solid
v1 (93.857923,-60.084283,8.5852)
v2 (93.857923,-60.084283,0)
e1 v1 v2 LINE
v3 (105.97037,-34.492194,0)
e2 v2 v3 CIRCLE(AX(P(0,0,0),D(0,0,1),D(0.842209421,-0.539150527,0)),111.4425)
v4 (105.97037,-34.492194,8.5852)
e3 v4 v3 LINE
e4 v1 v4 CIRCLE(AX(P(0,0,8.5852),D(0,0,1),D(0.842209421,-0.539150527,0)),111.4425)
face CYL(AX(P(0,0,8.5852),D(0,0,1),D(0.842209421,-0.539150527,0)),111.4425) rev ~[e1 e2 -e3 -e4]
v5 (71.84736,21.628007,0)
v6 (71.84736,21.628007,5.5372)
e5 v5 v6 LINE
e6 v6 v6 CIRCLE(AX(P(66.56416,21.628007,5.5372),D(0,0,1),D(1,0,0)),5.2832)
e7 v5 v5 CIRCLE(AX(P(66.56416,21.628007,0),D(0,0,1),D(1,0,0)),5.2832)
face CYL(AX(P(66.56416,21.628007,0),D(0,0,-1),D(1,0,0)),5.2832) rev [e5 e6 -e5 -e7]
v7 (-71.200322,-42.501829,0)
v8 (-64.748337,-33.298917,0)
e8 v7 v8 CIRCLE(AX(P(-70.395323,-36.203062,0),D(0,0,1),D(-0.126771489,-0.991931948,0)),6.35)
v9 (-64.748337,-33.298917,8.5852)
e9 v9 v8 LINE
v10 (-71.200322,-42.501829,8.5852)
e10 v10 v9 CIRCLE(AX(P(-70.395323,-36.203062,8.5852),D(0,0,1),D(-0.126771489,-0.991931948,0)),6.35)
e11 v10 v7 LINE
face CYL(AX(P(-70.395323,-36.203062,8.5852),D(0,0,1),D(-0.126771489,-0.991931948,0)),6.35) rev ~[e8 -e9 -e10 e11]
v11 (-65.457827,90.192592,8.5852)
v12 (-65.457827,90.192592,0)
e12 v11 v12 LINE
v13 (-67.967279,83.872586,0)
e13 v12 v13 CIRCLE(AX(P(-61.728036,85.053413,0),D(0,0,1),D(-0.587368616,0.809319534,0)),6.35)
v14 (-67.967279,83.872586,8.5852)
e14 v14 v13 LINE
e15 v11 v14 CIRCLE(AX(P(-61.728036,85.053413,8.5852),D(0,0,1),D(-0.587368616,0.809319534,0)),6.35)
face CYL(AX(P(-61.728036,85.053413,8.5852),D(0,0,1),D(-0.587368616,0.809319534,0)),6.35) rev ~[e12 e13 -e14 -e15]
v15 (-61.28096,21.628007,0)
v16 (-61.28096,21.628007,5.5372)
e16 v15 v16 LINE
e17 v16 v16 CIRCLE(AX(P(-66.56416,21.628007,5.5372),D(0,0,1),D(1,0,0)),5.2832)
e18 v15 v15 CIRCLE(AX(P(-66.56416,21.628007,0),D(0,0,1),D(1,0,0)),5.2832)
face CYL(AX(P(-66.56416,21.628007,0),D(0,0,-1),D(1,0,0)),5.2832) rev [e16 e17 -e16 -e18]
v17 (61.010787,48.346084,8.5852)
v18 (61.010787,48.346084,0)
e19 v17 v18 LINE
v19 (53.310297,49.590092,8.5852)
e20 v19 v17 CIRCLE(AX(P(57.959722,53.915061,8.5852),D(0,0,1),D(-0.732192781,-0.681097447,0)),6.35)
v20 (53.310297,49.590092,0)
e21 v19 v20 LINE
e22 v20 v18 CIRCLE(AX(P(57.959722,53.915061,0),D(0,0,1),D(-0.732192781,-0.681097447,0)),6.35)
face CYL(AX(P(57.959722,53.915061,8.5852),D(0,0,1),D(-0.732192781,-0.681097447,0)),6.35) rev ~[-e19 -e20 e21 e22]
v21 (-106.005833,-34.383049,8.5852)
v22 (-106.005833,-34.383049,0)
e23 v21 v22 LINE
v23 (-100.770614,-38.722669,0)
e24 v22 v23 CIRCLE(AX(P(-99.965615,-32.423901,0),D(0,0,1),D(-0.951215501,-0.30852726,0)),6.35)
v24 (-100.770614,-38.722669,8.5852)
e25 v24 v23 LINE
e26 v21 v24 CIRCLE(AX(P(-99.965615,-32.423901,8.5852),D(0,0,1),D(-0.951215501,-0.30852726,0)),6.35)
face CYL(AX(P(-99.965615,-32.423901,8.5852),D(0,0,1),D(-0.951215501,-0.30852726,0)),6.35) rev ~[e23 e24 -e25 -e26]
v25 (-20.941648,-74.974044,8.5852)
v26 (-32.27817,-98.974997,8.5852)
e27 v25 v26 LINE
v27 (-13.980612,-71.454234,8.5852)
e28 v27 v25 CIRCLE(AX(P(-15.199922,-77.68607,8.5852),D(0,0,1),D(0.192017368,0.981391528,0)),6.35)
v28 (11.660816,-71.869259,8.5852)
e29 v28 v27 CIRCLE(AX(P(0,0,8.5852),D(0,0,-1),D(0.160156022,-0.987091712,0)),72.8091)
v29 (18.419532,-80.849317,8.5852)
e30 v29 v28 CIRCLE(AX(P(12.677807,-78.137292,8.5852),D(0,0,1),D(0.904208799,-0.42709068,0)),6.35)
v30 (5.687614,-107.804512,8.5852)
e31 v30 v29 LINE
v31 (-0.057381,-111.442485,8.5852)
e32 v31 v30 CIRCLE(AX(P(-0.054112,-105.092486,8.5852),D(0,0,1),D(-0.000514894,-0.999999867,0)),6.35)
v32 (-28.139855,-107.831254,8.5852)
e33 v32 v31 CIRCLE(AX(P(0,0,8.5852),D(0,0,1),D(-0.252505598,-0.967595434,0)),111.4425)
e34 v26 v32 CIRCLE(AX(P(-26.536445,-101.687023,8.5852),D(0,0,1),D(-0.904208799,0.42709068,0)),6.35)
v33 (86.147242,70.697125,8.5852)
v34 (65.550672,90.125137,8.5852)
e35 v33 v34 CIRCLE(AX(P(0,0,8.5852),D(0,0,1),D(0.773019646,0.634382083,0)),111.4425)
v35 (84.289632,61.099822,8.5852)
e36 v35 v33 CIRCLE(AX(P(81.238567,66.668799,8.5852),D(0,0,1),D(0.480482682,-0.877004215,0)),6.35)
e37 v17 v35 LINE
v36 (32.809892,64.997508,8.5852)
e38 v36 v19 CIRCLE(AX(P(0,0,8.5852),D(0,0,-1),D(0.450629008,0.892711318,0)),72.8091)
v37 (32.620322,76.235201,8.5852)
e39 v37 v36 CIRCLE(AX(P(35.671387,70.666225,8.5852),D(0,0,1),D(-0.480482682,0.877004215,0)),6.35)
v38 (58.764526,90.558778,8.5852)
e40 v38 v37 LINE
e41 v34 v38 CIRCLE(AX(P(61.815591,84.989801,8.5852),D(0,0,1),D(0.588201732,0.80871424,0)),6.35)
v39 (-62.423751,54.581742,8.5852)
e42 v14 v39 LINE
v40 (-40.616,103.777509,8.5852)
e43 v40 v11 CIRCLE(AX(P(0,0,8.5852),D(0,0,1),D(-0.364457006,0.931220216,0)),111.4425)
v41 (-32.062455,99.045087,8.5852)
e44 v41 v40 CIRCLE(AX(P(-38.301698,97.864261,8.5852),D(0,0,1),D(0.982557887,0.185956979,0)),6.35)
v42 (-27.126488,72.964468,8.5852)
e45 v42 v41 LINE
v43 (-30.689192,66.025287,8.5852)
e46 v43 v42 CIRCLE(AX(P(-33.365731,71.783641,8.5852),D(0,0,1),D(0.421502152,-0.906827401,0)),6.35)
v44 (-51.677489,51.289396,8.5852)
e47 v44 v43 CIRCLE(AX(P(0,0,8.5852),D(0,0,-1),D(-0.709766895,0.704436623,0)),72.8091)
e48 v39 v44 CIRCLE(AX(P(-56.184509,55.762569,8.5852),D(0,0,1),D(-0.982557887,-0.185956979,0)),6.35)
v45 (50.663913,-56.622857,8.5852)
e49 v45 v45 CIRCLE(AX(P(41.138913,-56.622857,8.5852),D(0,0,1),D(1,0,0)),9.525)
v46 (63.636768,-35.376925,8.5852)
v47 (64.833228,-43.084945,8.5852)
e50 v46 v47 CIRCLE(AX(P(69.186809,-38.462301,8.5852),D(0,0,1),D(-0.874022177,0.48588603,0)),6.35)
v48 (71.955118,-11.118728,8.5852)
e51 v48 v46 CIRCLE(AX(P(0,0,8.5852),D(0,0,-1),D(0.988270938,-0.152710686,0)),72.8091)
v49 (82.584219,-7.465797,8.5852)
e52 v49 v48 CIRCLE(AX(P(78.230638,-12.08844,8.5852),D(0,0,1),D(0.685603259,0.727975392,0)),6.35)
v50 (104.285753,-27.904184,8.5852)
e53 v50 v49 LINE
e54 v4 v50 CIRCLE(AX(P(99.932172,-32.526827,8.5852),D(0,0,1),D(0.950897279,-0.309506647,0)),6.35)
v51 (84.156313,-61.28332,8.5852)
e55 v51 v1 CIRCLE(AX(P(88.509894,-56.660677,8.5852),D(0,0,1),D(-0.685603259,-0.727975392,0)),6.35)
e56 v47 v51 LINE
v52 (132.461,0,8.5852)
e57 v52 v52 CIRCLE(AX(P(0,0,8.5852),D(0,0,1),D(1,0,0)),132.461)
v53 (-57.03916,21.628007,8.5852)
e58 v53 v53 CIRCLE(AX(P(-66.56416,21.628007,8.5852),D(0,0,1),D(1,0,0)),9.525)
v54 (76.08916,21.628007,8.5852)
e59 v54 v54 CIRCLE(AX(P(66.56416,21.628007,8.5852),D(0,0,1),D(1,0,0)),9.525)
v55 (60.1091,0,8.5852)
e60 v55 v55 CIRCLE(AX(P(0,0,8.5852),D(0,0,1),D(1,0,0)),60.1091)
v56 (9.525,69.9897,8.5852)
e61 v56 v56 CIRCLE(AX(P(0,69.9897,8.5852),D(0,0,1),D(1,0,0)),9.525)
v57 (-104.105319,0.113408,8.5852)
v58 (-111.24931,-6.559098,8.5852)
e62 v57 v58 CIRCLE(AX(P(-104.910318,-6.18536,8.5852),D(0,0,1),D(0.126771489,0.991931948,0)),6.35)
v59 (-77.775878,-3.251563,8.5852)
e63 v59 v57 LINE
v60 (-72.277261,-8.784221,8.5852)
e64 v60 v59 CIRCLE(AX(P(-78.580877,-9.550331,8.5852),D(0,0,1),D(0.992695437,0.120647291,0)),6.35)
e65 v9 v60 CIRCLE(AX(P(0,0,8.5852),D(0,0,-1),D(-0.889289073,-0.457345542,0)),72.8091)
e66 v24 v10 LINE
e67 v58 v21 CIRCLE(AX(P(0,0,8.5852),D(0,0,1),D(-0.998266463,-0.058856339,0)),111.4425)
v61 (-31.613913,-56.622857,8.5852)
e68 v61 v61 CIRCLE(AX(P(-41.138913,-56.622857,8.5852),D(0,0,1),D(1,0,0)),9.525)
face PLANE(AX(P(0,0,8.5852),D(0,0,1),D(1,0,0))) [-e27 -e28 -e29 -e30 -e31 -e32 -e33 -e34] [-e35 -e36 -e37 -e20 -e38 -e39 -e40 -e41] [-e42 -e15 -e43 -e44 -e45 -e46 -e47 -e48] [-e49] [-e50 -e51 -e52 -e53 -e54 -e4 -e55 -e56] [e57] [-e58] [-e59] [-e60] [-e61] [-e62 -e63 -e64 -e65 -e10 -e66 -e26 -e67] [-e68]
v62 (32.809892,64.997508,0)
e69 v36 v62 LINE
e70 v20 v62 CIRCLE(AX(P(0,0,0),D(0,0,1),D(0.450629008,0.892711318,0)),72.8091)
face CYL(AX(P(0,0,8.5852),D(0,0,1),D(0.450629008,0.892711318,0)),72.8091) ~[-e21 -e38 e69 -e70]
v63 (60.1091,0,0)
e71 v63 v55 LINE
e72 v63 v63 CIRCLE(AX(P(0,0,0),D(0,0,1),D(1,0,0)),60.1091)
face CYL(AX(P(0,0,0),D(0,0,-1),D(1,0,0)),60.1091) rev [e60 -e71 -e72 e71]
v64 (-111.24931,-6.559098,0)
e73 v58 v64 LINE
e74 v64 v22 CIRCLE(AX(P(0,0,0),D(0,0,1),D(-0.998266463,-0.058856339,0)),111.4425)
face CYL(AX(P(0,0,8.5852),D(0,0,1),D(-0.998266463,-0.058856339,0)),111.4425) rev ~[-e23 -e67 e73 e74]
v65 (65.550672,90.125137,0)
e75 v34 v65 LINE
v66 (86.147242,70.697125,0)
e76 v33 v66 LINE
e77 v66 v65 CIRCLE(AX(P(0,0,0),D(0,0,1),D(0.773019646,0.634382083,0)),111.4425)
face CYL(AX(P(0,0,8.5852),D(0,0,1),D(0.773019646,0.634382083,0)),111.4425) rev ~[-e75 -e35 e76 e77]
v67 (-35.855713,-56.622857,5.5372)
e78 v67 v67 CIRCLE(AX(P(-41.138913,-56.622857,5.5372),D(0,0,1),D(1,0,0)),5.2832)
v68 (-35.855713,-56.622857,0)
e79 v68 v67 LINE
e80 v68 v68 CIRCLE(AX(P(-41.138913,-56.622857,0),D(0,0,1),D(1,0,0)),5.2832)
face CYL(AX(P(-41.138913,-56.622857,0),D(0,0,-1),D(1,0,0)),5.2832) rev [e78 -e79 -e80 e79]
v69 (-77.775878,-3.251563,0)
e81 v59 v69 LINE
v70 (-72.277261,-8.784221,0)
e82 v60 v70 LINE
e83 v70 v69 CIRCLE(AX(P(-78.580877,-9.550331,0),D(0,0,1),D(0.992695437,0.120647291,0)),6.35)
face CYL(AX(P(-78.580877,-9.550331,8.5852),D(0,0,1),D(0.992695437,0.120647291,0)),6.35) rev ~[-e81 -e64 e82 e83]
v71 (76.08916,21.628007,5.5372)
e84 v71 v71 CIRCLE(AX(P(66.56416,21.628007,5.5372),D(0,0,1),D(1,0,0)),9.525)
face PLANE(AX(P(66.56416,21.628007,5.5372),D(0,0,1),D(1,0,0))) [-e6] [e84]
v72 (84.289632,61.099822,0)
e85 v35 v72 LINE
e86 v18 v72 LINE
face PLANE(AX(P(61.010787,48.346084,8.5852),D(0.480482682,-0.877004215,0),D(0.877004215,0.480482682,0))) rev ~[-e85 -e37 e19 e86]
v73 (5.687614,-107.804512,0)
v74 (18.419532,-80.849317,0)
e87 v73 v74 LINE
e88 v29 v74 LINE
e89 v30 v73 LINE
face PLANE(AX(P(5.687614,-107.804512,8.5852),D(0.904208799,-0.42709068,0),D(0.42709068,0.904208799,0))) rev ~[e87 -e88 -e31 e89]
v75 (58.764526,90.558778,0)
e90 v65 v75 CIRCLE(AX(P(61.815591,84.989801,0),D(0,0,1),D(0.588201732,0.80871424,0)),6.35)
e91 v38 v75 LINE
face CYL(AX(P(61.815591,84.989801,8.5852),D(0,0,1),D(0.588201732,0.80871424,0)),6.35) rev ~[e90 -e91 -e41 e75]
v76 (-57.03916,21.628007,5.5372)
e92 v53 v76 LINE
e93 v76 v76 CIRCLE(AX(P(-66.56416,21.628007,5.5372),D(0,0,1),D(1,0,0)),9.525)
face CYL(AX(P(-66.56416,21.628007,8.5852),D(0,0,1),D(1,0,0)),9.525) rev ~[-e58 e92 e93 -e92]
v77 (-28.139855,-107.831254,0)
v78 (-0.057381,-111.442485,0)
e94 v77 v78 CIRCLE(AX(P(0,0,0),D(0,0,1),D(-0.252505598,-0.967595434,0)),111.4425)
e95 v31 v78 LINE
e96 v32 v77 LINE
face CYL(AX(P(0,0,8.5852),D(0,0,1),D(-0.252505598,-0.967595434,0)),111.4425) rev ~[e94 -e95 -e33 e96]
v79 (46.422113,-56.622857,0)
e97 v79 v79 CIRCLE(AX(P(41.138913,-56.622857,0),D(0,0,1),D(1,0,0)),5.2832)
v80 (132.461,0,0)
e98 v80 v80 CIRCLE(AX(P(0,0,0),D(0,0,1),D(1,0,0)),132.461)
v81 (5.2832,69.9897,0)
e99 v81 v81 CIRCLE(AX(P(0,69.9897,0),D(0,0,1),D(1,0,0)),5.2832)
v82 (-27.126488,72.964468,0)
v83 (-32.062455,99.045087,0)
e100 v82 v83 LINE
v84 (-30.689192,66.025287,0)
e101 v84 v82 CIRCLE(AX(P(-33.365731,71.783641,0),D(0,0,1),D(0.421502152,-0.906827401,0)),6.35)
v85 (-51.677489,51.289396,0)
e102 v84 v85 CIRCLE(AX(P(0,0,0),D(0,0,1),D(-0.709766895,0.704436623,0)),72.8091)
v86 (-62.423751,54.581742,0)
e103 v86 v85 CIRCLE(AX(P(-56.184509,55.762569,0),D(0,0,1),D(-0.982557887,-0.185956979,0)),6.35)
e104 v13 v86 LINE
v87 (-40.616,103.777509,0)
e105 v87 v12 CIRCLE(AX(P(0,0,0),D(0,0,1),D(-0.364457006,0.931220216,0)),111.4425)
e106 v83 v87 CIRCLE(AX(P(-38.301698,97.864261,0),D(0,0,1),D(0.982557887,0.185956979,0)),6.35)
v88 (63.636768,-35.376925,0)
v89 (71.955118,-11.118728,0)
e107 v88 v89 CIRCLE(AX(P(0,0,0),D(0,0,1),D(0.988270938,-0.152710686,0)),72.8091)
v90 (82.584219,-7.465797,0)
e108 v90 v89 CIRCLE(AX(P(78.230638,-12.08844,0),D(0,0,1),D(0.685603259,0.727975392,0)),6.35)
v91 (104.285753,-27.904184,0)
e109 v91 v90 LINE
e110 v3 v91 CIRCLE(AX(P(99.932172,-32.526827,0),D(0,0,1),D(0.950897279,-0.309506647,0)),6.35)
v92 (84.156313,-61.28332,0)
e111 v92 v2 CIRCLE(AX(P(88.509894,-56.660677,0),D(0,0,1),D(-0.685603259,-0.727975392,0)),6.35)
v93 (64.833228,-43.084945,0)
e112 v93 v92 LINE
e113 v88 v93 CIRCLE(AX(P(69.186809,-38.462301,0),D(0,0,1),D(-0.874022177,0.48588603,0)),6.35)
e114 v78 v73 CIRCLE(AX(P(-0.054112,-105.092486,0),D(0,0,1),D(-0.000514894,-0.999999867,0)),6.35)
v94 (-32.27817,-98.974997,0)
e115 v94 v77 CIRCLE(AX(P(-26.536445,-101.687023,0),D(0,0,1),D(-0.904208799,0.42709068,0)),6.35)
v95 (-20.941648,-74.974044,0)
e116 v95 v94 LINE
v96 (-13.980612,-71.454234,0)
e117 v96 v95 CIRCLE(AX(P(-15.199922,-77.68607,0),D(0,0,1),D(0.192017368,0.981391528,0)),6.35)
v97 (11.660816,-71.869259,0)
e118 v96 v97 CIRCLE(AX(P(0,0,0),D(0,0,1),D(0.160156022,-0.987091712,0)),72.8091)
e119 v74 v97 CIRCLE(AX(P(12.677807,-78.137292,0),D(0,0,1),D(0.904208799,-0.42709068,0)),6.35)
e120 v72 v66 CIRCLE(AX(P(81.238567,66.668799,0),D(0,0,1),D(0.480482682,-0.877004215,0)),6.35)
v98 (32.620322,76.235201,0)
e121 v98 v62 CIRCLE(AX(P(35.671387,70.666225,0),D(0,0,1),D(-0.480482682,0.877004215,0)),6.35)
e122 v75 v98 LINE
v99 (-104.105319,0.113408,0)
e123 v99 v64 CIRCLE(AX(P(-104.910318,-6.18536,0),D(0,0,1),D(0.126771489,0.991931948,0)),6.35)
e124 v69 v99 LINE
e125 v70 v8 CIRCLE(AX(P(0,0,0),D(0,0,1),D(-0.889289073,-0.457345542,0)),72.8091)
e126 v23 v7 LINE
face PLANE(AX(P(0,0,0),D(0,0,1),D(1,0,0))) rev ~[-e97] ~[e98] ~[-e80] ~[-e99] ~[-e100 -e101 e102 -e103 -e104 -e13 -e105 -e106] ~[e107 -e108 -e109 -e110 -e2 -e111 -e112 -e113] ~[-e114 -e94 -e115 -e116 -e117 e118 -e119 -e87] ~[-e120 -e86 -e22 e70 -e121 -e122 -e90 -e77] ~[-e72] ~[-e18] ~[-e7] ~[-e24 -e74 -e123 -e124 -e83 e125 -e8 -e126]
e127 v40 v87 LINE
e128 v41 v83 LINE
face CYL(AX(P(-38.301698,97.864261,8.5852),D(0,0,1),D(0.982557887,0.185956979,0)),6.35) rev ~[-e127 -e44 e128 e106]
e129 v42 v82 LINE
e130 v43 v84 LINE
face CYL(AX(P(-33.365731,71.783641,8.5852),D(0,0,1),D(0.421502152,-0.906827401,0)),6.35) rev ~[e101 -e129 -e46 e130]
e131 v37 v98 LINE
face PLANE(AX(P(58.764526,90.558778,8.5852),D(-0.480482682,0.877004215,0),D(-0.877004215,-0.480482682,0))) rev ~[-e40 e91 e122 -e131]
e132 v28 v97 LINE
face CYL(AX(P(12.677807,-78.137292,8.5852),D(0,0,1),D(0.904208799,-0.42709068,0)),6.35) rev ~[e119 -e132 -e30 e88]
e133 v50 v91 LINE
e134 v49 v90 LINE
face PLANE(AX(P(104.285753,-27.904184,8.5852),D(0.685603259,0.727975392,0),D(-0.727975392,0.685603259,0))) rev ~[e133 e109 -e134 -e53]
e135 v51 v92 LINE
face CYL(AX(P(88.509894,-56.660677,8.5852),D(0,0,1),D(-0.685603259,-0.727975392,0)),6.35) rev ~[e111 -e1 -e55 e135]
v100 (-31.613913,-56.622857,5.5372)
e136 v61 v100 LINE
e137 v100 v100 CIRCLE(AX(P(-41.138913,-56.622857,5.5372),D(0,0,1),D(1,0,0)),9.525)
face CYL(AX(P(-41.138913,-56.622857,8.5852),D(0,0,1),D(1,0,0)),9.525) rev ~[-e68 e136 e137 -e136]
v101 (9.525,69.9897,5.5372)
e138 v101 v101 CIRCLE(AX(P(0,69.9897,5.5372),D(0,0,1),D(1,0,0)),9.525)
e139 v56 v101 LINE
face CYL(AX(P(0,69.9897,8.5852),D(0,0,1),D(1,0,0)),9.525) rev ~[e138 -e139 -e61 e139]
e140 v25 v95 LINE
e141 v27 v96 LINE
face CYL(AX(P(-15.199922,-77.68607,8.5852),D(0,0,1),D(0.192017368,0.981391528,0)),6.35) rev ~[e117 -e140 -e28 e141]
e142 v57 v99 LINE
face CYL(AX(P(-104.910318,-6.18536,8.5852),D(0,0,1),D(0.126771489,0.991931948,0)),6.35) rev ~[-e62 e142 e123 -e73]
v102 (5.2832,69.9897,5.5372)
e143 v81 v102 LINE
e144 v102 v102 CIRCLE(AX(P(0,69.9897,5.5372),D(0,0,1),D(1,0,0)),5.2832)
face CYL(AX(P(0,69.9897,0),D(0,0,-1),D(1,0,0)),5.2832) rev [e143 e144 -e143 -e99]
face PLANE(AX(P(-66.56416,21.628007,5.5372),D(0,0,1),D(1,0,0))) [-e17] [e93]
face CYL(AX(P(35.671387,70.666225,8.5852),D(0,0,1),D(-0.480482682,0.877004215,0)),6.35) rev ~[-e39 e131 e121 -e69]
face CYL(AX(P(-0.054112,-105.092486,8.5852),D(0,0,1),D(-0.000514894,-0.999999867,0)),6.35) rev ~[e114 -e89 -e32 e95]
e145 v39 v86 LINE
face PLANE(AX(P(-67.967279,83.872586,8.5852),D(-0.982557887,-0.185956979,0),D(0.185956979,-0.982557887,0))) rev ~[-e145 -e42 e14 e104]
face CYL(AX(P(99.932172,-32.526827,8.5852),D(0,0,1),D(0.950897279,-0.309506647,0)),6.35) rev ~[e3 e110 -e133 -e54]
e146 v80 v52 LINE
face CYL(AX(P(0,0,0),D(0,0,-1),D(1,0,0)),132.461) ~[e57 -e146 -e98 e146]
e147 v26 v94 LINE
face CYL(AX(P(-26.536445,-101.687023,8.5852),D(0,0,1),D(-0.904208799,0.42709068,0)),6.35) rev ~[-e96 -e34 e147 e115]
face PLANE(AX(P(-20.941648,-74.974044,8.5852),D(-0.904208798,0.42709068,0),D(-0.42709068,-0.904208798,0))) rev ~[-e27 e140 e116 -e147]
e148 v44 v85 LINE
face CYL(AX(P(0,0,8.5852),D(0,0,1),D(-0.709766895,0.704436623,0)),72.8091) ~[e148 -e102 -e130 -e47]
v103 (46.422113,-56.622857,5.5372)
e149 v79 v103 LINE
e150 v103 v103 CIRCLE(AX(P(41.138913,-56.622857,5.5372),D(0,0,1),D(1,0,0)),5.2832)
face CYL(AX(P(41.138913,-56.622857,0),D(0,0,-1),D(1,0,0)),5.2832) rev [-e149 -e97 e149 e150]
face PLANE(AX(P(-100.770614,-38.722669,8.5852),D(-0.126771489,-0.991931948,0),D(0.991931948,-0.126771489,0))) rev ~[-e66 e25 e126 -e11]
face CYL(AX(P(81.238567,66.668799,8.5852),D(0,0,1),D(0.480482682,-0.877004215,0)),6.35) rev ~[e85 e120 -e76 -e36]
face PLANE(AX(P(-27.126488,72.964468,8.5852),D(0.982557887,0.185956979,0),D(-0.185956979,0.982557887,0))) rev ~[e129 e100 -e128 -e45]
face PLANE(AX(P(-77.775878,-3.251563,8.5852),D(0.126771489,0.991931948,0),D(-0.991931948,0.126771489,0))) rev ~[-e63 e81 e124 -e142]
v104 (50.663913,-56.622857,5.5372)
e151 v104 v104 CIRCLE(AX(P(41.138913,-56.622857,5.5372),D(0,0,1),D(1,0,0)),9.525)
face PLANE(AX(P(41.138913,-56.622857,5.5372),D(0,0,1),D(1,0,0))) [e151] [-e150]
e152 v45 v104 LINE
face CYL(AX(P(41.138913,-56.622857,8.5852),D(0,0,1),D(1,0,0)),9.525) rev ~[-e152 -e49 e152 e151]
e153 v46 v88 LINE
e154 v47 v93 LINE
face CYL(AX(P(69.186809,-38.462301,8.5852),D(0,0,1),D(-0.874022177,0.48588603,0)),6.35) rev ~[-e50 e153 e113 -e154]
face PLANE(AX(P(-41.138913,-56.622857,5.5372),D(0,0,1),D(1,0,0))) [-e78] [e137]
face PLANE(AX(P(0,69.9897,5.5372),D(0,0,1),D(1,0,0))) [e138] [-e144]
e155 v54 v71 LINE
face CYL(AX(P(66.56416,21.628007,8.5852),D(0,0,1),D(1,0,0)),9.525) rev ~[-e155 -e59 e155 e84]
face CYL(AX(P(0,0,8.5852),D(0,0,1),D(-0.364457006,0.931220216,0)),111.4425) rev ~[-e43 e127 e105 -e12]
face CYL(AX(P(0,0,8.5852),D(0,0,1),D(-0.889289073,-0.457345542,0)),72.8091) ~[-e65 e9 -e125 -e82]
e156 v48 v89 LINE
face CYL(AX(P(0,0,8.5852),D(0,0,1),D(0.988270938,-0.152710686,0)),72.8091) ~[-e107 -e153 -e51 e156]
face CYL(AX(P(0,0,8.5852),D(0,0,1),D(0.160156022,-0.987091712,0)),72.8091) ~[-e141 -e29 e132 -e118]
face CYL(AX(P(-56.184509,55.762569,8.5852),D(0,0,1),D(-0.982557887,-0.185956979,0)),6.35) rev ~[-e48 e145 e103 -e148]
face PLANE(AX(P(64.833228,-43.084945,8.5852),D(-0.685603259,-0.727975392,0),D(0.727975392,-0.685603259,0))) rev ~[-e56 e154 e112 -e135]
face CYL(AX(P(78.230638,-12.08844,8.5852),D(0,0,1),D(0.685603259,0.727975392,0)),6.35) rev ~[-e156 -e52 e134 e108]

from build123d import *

# Parameters (mm, degrees)
F0_R     = 132.461
F0_R_2   = 124.1425
F0_R_3   = 9.525
F0_R_4   = 60.1091
F0_R_5   = 5.2832
F1_DEPTH = 8.5852
F2_R     = 9.525
F2_R_2   = 5.2832
F3_DEPTH = 3.048
F5_DEPTH = 8.5862


with BuildPart() as f1:
    # F0 (on Top) → F1 (new body)
    with BuildSketch(Plane.XY):
        Circle(F0_R)
        Circle(F0_R_2, mode=Mode.SUBTRACT)
        Circle(F0_R_2)
        with Locations((-41.1389134724, -56.6228567312)):
            Circle(F0_R_3, mode=Mode.SUBTRACT)
        with Locations((41.1389134724, -56.6228567312)):
            Circle(F0_R_3, mode=Mode.SUBTRACT)
        with Locations((-66.5641602585, 21.6280067312)):
            Circle(F0_R_3, mode=Mode.SUBTRACT)
        Circle(F0_R_4, mode=Mode.SUBTRACT)
        with Locations((66.5641602585, 21.6280067312)):
            Circle(F0_R_3, mode=Mode.SUBTRACT)
        with Locations((0, 69.9897)):
            Circle(F0_R_3, mode=Mode.SUBTRACT)
        with Locations((0, 69.9897)):
            Circle(F0_R_3)
        with Locations((0, 69.9897)):
            Circle(F0_R_5, mode=Mode.SUBTRACT)
        with Locations((66.5641602585, 21.6280067312)):
            Circle(F0_R_3)
        with Locations((66.5641602585, 21.6280067312)):
            Circle(F0_R_5, mode=Mode.SUBTRACT)
        with Locations((41.1389134724, -56.6228567312)):
            Circle(F0_R_3)
        with Locations((41.1389134724, -56.6228567312)):
            Circle(F0_R_5, mode=Mode.SUBTRACT)
        with Locations((-41.1389134724, -56.6228567312)):
            Circle(F0_R_3)
        with Locations((-41.1389134724, -56.6228567312)):
            Circle(F0_R_5, mode=Mode.SUBTRACT)
        with Locations((-66.5641602585, 21.6280067312)):
            Circle(F0_R_3)
        with Locations((-66.5641602585, 21.6280067312)):
            Circle(F0_R_5, mode=Mode.SUBTRACT)
    extrude(amount=F1_DEPTH)

    # F2 (on face) → F3 (cut)
    with BuildSketch(Plane.XY.offset(8.5852)):
        with Locations((-66.5641602585, 21.6280067312)):
            Circle(F2_R)
        with Locations((-66.5641602585, 21.6280067312)):
            Circle(F2_R_2, mode=Mode.SUBTRACT)
        with Locations((0, 69.9897)):
            Circle(F2_R)
        with Locations((0, 69.9897)):
            Circle(F2_R_2, mode=Mode.SUBTRACT)
        with Locations((66.5641602585, 21.6280067312)):
            Circle(F2_R)
        with Locations((66.5641602585, 21.6280067312)):
            Circle(F2_R_2, mode=Mode.SUBTRACT)
        with Locations((41.1389134724, -56.6228567312)):
            Circle(F2_R)
        with Locations((41.1389134724, -56.6228567312)):
            Circle(F2_R_2, mode=Mode.SUBTRACT)
        with Locations((-41.1389134724, -56.6228567312)):
            Circle(F2_R)
        with Locations((-41.1389134724, -56.6228567312)):
            Circle(F2_R_2, mode=Mode.SUBTRACT)
    extrude(amount=-F3_DEPTH, mode=Mode.SUBTRACT)

    # F4 (on face) → F5 (cut, through all)
    with BuildSketch(Plane.XY.offset(8.5852)):
        with BuildLine():
            ThreePointArc((-51.6774888153, 51.2893964924), (-41.8372341216, 59.5886808368), (-30.6891923649, 66.0252869346))
            ThreePointArc((-30.6891923649, 66.0252869346), (-27.7167624168, 68.8833558466), (-27.1264884478, 72.9644677469))
            Line((-27.1264884478, 72.9644677469), (-32.0624553632, 99.0450873522))
            ThreePointArc((-32.0624553632, 99.0450873522), (-35.2275731763, 103.4205413877), (-40.6159999389, 103.7775089083))
            ThreePointArc((-40.6159999389, 103.7775089083), (-53.4701008219, 97.7771912275), (-65.45782702, 90.1925922017))
            ThreePointArc((-65.45782702, 90.1925922017), (-67.6298177949, 87.3968028542), (-67.9672788915, 83.8725863441))
            Line((-67.9672788915, 83.8725863441), (-62.4237511818, 54.5817422306))
            ThreePointArc((-62.4237511818, 54.5817422306), (-58.0446252801, 49.6911222717), (-51.6774888153, 51.2893964924))
        make_face()
        with BuildLine():
            ThreePointArc((53.3102973951, 49.5900920997), (56.9470138263, 47.6463350933), (61.0107865806, 48.3460841217))
            Line((61.0107865806, 48.3460841217), (84.2896321448, 61.0998223028))
            ThreePointArc((84.2896321448, 61.0998223028), (87.4728610235, 65.4621178788), (86.1472418675, 70.6971252943))
            ThreePointArc((86.1472418675, 70.6971252943), (76.468465017, 81.0679015652), (65.550671571, 90.125136687))
            ThreePointArc((65.550671571, 90.125136687), (62.2205358328, 91.3268762457), (58.7645255422, 90.5587780272))
            Line((58.7645255422, 90.5587780272), (32.6203216513, 76.2352012649))
            ThreePointArc((32.6203216513, 76.2352012649), (29.3222899949, 70.55912036), (32.8098924804, 64.997507631))
            ThreePointArc((32.8098924804, 64.997507631), (43.743786866, 58.203489186), (53.3102973951, 49.5900920997))
        make_face()
        with BuildLine():
            ThreePointArc((63.6367681054, -35.3769245118), (62.9119525193, -39.4363013195), (64.8332282349, -43.0849445367))
            Line((64.8332282349, -43.0849445367), (84.1563129279, -61.2833204626))
            ThreePointArc((84.1563129279, -61.2833204626), (89.288774382, -62.9627275631), (93.8579234501, -60.0842825695))
            ThreePointArc((93.8579234501, -60.0842825695), (100.73021127, -47.6744726636), (105.9703700363, -34.4921944885))
            ThreePointArc((105.9703700363, -34.4921944885), (106.0842237378, -30.953689248), (104.2857530094, -27.9041835437))
            Line((104.2857530094, -27.9041835437), (82.5842186863, -7.4657967097))
            ThreePointArc((82.5842186863, -7.4657967097), (76.1667971249, -6.0831876729), (71.9551175354, -11.1187275924))
            ThreePointArc((71.9551175354, -11.1187275924), (68.8723812014, -23.616946256), (63.6367681054, -35.3769245118))
        make_face()
        with BuildLine():
            ThreePointArc((-72.2772613638, -8.7842206572), (-74.076915058, -5.074079921), (-77.7758784367, -3.2515630831))
            Line((-77.7758784367, -3.2515630831), (-104.105319322, 0.1134080996))
            ThreePointArc((-104.105319322, 0.1134080996), (-109.2446985876, -1.5447081663), (-111.2493103168, -6.5590975212))
            ThreePointArc((-111.2493103168, -6.5590975212), (-109.5148047069, -20.6382740621), (-106.0058334991, -34.3830491728))
            ThreePointArc((-106.0058334991, -34.3830491728), (-104.018061883, -37.3126815737), (-100.77061402, -38.7226689421))
            Line((-100.77061402, -38.7226689421), (-71.2003215869, -42.5018294012))
            ThreePointArc((-71.2003215869, -42.5018294012), (-65.1958412822, -39.848317857), (-64.7483370215, -33.2989173362))
            ThreePointArc((-64.7483370215, -33.2989173362), (-69.6006195485, -21.3756590841), (-72.2772613638, -8.7842206572))
        make_face()
        with BuildLine():
            ThreePointArc((-13.9806117717, -71.4542338654), (-18.0652888708, -72.0193096994), (-20.941647931, -74.9740442488))
            Line((-20.941647931, -74.9740442488), (-32.2781703875, -98.9749972921))
            ThreePointArc((-32.2781703875, -98.9749972921), (-32.2893636416, -104.3752235372), (-28.1398550618, -107.8312541119))
            ThreePointArc((-28.1398550618, -107.8312541119), (-14.2137707582, -110.532346067), (-0.0573810882, -111.4424852274))
            ThreePointArc((-0.0573810882, -111.4424852274), (3.3431201074, -110.4573082782), (5.68761436, -107.8045118855))
            Line((5.68761436, -107.8045118855), (18.4195324312, -80.8493173845))
            ThreePointArc((18.4195324312, -80.8493173845), (17.7513794425, -74.3187371018), (11.660815821, -71.8692591947))
            ThreePointArc((11.660815821, -71.8692591947), (-1.1783143974, -72.7995646827), (-13.9806117717, -71.4542338654))
        make_face()
    extrude(amount=-F5_DEPTH, mode=Mode.SUBTRACT)


solid = f1.part
